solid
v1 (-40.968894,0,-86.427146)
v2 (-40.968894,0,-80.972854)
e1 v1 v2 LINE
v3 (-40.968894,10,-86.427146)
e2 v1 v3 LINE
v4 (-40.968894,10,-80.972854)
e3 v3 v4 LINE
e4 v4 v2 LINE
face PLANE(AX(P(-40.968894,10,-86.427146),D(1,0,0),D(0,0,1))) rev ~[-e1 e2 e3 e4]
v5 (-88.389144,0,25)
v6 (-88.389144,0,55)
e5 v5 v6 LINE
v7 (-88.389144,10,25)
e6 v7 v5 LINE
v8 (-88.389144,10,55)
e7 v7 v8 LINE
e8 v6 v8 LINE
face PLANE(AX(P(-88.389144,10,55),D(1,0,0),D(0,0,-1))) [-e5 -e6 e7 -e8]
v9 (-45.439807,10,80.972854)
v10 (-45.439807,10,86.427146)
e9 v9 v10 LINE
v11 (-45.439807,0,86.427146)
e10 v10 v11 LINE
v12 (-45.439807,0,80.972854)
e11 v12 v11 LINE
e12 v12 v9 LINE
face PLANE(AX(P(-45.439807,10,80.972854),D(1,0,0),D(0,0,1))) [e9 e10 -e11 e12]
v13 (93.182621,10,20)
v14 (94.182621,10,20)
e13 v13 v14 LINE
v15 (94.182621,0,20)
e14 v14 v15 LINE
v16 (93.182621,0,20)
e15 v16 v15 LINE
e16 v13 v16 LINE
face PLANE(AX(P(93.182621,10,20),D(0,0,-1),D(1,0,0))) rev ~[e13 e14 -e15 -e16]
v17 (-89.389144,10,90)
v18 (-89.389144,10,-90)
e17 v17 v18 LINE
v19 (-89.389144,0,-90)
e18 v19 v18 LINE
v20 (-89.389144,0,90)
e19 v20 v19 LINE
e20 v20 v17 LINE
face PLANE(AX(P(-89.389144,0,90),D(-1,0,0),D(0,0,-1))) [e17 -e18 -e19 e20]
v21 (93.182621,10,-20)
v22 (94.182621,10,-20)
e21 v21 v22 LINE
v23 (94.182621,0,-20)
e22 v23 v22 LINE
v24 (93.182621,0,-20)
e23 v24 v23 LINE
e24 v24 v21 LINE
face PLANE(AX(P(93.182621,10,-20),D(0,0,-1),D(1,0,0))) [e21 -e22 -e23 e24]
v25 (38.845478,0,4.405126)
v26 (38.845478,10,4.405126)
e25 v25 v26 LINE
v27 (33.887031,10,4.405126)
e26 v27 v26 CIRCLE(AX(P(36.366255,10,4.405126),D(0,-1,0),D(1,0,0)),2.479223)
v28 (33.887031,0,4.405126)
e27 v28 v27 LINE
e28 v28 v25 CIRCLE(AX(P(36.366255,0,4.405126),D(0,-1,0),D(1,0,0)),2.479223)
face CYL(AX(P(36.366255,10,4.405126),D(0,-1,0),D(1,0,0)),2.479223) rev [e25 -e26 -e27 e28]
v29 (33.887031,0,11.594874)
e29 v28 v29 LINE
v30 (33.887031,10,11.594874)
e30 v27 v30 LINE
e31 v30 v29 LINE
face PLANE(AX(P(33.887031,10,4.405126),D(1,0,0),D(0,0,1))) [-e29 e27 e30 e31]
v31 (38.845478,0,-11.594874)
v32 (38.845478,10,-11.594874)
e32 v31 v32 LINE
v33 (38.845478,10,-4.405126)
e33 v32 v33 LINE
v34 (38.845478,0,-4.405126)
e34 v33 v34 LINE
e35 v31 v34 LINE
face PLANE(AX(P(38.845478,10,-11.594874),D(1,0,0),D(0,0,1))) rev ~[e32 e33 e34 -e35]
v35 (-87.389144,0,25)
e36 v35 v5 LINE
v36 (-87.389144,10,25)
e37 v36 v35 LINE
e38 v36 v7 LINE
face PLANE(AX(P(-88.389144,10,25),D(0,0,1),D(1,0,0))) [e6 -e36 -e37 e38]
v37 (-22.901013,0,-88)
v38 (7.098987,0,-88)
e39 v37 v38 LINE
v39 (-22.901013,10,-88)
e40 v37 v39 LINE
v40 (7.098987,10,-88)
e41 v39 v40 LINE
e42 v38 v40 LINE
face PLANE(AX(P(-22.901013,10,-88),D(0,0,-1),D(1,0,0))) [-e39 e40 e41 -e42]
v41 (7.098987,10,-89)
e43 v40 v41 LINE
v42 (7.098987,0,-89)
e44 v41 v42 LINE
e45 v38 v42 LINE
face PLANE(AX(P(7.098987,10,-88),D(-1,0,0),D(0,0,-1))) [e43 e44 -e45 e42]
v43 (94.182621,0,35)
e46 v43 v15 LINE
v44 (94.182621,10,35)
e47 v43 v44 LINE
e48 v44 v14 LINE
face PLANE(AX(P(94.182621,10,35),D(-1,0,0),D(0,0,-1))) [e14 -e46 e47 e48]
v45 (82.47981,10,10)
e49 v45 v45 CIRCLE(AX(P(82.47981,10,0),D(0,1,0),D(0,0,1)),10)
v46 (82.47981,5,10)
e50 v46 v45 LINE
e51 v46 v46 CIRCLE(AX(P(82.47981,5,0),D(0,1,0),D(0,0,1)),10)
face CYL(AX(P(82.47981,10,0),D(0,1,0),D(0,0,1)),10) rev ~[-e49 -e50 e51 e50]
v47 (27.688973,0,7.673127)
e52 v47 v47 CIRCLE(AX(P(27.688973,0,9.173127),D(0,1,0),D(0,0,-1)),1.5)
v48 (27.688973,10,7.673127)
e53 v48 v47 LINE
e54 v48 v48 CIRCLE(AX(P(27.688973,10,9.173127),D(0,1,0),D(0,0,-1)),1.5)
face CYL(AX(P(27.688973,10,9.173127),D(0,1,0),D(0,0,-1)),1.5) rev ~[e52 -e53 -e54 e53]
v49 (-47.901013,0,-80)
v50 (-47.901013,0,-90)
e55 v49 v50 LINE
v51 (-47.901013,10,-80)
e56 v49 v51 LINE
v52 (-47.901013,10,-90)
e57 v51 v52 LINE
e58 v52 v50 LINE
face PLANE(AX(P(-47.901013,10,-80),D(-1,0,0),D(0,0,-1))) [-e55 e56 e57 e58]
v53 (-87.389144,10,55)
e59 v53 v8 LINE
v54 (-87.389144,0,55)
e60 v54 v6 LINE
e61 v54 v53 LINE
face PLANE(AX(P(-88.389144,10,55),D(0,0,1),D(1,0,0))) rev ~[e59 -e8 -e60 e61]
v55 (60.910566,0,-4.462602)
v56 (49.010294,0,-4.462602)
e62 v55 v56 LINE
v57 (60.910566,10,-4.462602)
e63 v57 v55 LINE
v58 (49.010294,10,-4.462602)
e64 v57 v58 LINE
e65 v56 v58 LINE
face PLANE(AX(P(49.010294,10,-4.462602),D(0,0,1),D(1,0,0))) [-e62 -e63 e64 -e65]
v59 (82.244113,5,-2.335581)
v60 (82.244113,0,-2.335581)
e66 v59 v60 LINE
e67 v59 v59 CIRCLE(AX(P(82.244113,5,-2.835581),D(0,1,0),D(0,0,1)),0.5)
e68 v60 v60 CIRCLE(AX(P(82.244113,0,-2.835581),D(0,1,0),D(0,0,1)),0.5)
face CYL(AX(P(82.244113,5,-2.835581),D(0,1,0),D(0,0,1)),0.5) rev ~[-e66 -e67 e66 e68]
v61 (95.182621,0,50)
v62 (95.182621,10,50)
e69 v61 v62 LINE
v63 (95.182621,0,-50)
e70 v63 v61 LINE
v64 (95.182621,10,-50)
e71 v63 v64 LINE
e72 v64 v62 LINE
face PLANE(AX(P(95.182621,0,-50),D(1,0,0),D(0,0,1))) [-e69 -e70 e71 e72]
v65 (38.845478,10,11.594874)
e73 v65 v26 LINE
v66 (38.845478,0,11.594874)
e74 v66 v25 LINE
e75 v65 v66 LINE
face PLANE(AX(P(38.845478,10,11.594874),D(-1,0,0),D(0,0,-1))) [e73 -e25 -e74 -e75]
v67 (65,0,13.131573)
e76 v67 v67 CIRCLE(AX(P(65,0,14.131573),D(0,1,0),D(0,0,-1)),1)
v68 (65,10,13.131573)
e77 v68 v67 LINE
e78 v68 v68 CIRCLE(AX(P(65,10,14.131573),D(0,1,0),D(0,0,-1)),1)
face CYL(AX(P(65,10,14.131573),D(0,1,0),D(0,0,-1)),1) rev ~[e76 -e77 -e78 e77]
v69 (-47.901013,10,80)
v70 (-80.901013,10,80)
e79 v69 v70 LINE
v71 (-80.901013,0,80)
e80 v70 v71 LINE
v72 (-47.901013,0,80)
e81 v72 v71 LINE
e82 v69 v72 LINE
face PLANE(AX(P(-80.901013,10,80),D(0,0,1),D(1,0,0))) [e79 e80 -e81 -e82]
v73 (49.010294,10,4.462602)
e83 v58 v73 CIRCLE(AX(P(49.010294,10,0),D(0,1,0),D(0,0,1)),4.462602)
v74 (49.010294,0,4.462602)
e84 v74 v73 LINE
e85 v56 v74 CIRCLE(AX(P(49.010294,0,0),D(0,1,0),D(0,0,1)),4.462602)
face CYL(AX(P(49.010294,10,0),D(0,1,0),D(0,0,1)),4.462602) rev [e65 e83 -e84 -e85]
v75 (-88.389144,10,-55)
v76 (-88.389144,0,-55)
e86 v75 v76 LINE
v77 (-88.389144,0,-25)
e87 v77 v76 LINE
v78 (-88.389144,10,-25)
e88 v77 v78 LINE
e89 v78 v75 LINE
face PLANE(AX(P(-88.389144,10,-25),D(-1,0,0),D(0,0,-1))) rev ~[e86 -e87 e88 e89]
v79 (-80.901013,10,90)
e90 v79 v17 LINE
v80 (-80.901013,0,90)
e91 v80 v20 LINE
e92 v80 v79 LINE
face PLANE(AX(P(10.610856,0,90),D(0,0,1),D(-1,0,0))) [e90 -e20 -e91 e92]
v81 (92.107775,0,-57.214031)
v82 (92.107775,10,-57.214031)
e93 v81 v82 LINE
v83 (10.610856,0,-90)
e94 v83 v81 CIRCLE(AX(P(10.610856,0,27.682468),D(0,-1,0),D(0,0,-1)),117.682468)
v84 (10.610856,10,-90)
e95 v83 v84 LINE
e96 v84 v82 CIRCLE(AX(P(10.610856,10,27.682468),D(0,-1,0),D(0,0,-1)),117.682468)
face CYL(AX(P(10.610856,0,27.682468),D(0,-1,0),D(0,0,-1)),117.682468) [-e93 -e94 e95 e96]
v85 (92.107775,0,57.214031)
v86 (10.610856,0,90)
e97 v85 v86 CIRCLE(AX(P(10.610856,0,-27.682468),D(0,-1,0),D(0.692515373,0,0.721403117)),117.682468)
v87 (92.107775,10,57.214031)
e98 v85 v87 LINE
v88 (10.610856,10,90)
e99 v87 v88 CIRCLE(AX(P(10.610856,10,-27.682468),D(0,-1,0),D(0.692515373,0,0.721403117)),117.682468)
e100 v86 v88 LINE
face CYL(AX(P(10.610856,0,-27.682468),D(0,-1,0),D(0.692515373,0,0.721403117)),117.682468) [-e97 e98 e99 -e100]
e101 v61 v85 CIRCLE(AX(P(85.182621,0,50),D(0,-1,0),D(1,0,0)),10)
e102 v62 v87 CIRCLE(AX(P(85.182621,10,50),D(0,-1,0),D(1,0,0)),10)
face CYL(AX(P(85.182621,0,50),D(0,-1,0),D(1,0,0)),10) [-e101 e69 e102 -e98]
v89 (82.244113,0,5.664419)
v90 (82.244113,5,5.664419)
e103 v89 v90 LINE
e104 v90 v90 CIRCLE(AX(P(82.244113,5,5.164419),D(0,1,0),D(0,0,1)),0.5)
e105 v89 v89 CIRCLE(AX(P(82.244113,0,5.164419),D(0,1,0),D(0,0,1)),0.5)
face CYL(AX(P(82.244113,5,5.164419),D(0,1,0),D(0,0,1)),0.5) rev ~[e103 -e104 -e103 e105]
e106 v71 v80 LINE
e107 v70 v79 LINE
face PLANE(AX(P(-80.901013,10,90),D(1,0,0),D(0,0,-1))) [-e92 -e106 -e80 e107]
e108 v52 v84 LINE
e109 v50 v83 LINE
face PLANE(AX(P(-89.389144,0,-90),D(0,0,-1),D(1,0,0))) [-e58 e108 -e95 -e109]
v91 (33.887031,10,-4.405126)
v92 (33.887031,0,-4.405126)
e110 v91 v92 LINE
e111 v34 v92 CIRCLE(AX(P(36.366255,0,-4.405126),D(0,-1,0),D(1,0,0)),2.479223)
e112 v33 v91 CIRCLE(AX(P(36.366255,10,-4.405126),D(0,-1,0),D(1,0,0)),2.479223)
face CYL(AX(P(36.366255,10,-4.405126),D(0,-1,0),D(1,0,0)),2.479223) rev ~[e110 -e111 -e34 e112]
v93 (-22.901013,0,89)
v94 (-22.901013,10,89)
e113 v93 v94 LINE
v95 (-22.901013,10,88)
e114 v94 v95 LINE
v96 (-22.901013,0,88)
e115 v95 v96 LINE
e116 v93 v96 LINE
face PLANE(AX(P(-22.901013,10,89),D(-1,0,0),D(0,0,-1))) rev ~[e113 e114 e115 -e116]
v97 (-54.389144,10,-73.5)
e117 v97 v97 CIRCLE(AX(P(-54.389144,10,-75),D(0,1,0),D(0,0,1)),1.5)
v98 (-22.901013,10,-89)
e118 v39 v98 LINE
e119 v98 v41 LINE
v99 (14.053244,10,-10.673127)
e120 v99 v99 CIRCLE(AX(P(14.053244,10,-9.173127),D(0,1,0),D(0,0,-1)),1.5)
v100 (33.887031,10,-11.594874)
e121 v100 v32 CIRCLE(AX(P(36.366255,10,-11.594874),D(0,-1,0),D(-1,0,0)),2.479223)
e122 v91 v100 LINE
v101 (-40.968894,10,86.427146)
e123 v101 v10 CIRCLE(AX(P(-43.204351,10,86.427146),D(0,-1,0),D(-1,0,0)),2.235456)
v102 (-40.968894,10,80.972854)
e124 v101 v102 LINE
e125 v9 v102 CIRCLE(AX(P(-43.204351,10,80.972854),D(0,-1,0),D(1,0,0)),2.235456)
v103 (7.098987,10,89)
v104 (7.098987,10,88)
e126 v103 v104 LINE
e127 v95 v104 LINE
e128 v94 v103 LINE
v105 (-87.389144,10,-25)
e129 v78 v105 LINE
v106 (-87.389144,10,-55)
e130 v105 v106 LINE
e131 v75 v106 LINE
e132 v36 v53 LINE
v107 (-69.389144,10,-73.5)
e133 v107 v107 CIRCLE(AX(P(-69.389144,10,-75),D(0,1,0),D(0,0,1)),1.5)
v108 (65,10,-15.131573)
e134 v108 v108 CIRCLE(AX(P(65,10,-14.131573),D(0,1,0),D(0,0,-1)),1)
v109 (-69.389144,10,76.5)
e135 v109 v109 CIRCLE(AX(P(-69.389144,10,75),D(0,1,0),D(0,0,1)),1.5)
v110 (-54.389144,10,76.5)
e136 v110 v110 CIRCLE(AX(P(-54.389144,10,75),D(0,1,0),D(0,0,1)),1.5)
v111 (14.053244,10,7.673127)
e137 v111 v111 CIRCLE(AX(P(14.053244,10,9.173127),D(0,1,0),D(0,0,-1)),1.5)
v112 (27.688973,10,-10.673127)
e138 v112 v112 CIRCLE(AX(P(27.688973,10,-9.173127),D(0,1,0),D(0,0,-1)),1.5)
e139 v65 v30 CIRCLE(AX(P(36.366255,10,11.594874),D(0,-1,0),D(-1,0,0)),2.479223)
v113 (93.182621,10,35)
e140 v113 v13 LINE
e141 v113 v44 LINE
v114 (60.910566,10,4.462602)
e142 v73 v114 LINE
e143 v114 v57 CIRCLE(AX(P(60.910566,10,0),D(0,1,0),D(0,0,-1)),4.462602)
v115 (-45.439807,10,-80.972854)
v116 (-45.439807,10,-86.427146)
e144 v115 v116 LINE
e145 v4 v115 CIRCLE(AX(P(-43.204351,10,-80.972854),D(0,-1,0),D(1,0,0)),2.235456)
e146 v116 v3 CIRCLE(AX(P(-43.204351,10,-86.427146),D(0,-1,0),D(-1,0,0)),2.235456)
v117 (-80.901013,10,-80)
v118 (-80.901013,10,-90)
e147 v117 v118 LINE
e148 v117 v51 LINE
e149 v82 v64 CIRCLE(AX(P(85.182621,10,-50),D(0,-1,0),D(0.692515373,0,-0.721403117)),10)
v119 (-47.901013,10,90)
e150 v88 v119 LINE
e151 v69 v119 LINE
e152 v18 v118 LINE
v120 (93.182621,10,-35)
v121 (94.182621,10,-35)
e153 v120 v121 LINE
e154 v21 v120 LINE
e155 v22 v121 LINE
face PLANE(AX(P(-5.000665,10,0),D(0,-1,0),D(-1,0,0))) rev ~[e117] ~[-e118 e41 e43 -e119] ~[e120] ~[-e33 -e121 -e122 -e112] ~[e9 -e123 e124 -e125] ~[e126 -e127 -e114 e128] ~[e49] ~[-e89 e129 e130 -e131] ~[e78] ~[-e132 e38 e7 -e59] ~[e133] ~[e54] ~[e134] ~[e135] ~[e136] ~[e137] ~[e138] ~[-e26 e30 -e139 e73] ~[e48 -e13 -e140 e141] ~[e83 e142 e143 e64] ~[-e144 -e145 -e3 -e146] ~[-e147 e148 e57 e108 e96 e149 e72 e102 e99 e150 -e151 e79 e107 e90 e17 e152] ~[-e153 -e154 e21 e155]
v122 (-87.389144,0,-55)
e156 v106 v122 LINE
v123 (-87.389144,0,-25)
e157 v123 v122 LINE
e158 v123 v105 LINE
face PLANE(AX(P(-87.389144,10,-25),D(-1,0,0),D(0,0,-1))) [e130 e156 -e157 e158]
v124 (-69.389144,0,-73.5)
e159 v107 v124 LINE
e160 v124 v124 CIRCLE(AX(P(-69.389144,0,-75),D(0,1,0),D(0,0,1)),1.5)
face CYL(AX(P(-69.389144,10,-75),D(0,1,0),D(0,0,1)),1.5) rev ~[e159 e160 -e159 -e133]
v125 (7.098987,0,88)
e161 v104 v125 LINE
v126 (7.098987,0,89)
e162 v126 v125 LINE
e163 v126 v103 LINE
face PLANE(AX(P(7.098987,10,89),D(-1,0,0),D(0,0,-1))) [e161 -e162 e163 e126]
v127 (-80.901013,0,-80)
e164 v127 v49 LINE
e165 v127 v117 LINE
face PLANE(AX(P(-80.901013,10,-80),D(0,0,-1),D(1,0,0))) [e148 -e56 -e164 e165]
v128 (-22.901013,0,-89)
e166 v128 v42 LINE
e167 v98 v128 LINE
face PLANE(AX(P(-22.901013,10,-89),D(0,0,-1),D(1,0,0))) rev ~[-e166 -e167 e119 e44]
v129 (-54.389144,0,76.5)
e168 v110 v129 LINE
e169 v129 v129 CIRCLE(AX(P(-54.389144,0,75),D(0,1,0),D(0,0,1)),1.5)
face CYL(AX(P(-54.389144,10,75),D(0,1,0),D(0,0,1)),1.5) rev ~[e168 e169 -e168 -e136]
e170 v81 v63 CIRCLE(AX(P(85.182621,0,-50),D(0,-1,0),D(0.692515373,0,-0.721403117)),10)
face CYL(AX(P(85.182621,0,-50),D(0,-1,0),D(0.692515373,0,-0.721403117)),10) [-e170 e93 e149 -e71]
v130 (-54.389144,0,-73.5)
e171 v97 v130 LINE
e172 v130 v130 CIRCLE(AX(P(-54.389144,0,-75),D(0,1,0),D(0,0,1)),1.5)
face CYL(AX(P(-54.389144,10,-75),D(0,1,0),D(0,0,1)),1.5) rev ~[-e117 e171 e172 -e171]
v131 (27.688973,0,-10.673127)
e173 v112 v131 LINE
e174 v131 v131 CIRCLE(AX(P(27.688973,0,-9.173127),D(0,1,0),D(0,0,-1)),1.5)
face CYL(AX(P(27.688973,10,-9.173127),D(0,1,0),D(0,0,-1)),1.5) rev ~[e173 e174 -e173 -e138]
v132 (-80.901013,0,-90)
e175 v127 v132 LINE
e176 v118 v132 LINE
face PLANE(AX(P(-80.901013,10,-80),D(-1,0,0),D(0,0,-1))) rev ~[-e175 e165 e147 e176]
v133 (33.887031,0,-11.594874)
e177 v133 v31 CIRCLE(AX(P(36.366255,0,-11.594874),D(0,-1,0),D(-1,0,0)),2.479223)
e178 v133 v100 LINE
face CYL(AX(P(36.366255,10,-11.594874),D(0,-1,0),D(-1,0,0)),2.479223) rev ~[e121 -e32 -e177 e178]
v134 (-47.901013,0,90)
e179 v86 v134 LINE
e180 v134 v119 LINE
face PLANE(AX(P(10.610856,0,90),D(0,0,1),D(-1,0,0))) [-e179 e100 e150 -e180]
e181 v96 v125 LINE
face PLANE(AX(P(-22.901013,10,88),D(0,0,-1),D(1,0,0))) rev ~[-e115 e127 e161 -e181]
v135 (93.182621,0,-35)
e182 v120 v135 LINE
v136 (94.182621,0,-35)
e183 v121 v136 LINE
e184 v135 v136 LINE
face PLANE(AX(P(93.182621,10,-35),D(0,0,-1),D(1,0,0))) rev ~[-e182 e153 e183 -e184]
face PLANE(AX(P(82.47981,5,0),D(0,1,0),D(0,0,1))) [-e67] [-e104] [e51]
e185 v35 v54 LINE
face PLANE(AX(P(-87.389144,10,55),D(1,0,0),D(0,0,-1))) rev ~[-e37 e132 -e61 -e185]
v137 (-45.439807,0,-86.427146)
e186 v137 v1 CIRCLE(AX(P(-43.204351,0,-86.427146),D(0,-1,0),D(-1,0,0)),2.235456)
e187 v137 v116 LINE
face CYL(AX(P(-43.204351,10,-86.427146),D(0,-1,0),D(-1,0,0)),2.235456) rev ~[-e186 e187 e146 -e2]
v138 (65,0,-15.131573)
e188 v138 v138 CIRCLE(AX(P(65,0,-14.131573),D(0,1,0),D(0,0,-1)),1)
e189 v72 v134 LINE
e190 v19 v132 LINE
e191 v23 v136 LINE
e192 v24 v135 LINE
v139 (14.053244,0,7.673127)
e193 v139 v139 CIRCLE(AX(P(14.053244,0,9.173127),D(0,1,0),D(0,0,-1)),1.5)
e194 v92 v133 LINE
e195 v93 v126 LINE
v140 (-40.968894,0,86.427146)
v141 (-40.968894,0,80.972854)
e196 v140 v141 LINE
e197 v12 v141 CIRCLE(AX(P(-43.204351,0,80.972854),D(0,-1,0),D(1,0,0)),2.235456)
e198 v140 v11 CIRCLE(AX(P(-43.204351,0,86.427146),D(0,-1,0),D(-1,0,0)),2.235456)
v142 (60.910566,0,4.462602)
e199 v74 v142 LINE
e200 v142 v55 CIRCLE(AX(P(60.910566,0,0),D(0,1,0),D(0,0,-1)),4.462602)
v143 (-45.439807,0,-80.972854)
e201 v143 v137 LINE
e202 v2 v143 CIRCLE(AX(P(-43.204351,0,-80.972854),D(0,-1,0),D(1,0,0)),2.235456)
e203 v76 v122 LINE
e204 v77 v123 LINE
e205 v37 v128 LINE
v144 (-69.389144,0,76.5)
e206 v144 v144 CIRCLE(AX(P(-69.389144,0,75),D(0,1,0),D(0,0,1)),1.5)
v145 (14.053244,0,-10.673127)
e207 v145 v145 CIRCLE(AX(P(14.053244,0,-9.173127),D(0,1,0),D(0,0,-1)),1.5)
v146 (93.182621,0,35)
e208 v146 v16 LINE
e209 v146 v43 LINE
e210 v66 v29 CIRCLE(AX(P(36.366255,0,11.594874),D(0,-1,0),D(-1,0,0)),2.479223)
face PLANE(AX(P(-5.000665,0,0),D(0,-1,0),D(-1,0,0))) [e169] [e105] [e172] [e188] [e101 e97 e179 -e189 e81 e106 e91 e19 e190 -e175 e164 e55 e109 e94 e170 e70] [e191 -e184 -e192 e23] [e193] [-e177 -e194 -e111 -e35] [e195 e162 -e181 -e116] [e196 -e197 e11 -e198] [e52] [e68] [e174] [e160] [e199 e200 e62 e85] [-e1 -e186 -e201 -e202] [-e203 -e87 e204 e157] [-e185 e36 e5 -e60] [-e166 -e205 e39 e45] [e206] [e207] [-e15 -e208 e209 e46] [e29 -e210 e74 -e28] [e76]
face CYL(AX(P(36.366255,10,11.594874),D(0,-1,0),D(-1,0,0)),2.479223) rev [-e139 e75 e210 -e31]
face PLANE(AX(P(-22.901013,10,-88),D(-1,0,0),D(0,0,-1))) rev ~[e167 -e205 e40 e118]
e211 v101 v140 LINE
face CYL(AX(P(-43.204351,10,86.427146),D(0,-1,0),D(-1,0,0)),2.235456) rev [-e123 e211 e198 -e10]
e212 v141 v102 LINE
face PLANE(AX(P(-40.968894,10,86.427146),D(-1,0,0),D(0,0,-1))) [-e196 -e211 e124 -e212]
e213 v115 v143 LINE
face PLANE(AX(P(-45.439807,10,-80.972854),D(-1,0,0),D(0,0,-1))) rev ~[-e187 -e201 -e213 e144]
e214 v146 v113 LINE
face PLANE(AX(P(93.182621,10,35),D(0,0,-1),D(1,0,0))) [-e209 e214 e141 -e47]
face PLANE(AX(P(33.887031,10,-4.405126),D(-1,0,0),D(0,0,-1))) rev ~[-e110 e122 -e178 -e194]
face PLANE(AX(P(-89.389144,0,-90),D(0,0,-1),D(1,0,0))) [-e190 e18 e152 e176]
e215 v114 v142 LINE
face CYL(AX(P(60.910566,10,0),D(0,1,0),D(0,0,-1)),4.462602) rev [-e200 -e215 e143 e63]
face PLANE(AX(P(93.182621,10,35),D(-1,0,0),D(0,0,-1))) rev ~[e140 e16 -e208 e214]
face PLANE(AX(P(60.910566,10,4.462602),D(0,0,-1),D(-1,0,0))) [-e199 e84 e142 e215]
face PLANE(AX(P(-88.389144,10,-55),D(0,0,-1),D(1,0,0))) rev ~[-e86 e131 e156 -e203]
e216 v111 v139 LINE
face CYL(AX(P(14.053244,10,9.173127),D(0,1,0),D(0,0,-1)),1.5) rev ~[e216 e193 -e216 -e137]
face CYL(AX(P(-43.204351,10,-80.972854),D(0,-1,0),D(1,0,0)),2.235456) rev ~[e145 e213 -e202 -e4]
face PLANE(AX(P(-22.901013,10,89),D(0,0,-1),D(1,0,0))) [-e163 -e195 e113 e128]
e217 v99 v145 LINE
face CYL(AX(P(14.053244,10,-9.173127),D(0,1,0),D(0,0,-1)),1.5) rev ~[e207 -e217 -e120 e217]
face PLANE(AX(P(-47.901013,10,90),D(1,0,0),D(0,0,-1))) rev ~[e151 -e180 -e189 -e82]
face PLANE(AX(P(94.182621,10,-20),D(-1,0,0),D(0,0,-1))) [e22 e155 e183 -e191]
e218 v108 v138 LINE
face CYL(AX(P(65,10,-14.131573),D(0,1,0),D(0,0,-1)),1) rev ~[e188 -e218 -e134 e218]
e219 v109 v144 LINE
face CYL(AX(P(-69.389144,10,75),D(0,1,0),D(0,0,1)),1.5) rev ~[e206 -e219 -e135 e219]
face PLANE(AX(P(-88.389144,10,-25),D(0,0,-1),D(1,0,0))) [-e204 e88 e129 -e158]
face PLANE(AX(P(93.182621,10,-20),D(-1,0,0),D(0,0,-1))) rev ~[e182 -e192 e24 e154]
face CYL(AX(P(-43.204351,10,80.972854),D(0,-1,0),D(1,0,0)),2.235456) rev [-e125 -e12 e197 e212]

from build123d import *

# Parameters (mm, degrees)
BOSS_EXTRUDE1_DEPTH = 10
SKETCH2_R           = 1
SKETCH2_R_2         = 1.5
SKETCH2_W           = 33
SKETCH2_H           = 10
CUT_EXTRUDE2_DEPTH  = 15
SKETCH3_R           = 10
CUT_EXTRUDE3_DEPTH  = 5
CUT_EXTRUDE4_DEPTH  = 15
SKETCH5_W           = 30
SKETCH5_H           = 1
SKETCH5_W_2         = 1
SKETCH5_H_2         = 30
SKETCH5_H_3         = 15
CUT_EXTRUDE6_DEPTH  = 15
SKETCH6_R           = 0.5
CUT_EXTRUDE7_DEPTH  = 15
SKETCH7_R           = 1.5
CUT_EXTRUDE8_DEPTH  = 132.376296717


with BuildPart() as part:
    # Sketch1 → Boss-Extrude1 (new body)
    with BuildSketch(Plane(origin=(0, 0, 0), x_dir=(1, 0, 0), z_dir=(0, 1, 0))):
        with BuildLine():
            Line((-89.389143795, -90), (-89.389143795, 90))
            Line((-89.389143795, 90), (10.610856205, 90))
            ThreePointArc((10.610856205, 90), (54.533138364, 81.496268076), (92.107774725, 57.214031174))
            ThreePointArc((92.107774725, 57.214031174), (94.381847518, 53.920998768), (95.182620993, 50))
            Line((95.182620993, 50), (95.182620993, -50))
            ThreePointArc((95.182620993, -50), (94.381847518, -53.920998768), (92.107774725, -57.214031174))
            ThreePointArc((92.107774725, -57.214031174), (54.533138364, -81.496268076), (10.610856205, -90))
            Line((10.610856205, -90), (-89.389143795, -90))
        make_face()
    extrude(amount=BOSS_EXTRUDE1_DEPTH)

    # Sketch2 → Cut-Extrude2 (cut, symmetric)
    with BuildSketch(Plane(origin=(0, 10, 0), x_dir=(1, 0, 0), z_dir=(0, 1, 0))):
        with Locations(Location((65, 14.131573434, 0), (0, 0, 90))):
            Circle(SKETCH2_R)
        with Locations(Location((27.688972694, 9.173126615, 0), (0, 0, 90))):
            Circle(SKETCH2_R_2)
        with Locations(Location((14.053243942, 9.173126615, 0), (0, 0, 90))):
            Circle(SKETCH2_R_2)
        with Locations(Location((14.053243942, -9.173126615, 0), (0, 0, 90))):
            Circle(SKETCH2_R_2)
        with Locations(Location((27.688972694, -9.173126615, 0), (0, 0, 90))):
            Circle(SKETCH2_R_2)
        with Locations(Location((65, -14.131573434, 0), (0, 0, 90))):
            Circle(SKETCH2_R)
        with BuildLine():
            Line((-40.968894473, 86.42714575), (-40.968894473, 80.97285425))
            ThreePointArc((-40.968894473, 80.97285425), (-43.204350858, 78.737397865), (-45.439807243, 80.97285425))
            Line((-45.439807243, 80.97285425), (-45.439807243, 86.42714575))
            ThreePointArc((-45.439807243, 86.42714575), (-43.204350858, 88.662602135), (-40.968894473, 86.42714575))
        make_face()
        with BuildLine():
            Line((38.845478036, 11.594873944), (38.845478036, 4.405126056))
            ThreePointArc((38.845478036, 4.405126056), (36.366254627, 1.925902647), (33.887031217, 4.405126056))
            Line((33.887031217, 4.405126056), (33.887031217, 11.594873944))
            ThreePointArc((33.887031217, 11.594873944), (36.366254627, 14.074097353), (38.845478036, 11.594873944))
        make_face()
        with Locations((-64.401012641, 85)):
            Rectangle(SKETCH2_W, SKETCH2_H)
        with BuildLine():
            Line((38.845478036, -11.594873944), (38.845478036, -4.405126056))
            ThreePointArc((38.845478036, -4.405126056), (36.366254627, -1.925902647), (33.887031217, -4.405126056))
            Line((33.887031217, -4.405126056), (33.887031217, -11.594873944))
            ThreePointArc((33.887031217, -11.594873944), (36.366254627, -14.074097353), (38.845478036, -11.594873944))
        make_face()
        with BuildLine():
            Line((-40.968894473, -86.42714575), (-40.968894473, -80.97285425))
            ThreePointArc((-40.968894473, -80.97285425), (-43.204350858, -78.737397865), (-45.439807243, -80.97285425))
            Line((-45.439807243, -80.97285425), (-45.439807243, -86.42714575))
            ThreePointArc((-45.439807243, -86.42714575), (-43.204350858, -88.662602135), (-40.968894473, -86.42714575))
        make_face()
        with Locations((-64.401012641, -85)):
            Rectangle(SKETCH2_W, SKETCH2_H)
    extrude(amount=CUT_EXTRUDE2_DEPTH, both=True, mode=Mode.SUBTRACT)

    # Sketch3 → Cut-Extrude3 (cut, symmetric)
    with BuildSketch(Plane(origin=(0, 10, 0), x_dir=(1, 0, 0), z_dir=(0, 1, 0))):
        with Locations(Location((82.479810043, 0, 0), (0, 0, 270))):
            Circle(SKETCH3_R)
    extrude(amount=CUT_EXTRUDE3_DEPTH, both=True, mode=Mode.SUBTRACT)

    # Sketch4 → Cut-Extrude4 (cut, symmetric)
    with BuildSketch(Plane(origin=(0, 10, 0), x_dir=(1, 0, 0), z_dir=(0, 1, 0))):
        with BuildLine():
            Line((49.010294015, 4.462602137), (60.91056638, 4.462602137))
            ThreePointArc((60.91056638, 4.462602137), (65.373168517, 0), (60.91056638, -4.462602137))
            Line((60.91056638, -4.462602137), (49.010294015, -4.462602137))
            ThreePointArc((49.010294015, -4.462602137), (44.547691878, 0), (49.010294015, 4.462602137))
        make_face()
    extrude(amount=CUT_EXTRUDE4_DEPTH, both=True, mode=Mode.SUBTRACT)

    # Sketch5 → Cut-Extrude6 (cut, symmetric)
    with BuildSketch(Plane(origin=(0, 10, 0), x_dir=(1, 0, 0), z_dir=(0, 1, 0))):
        with Locations((-7.901012641, 88.5)):
            Rectangle(SKETCH5_W, SKETCH5_H)
        with Locations((-87.889143795, 40)):
            Rectangle(SKETCH5_W_2, SKETCH5_H_2)
        with Locations((93.682620993, 27.5)):
            Rectangle(SKETCH5_W_2, SKETCH5_H_3)
        with Locations((93.682620993, -27.5)):
            Rectangle(SKETCH5_W_2, SKETCH5_H_3)
        with Locations((-7.901012641, -88.5)):
            Rectangle(SKETCH5_W, SKETCH5_H)
        with Locations((-87.889143795, -40)):
            Rectangle(SKETCH5_W_2, SKETCH5_H_2)
    extrude(amount=CUT_EXTRUDE6_DEPTH, both=True, mode=Mode.SUBTRACT)

    # Sketch6 → Cut-Extrude7 (cut, symmetric)
    with BuildSketch(Plane(origin=(0, 5, 0), x_dir=(1, 0, 0), z_dir=(0, 1, 0))):
        with Locations(Location((82.244112685, 2.835581496, 0), (0, 0, 270))):
            Circle(SKETCH6_R)
        with Locations(Location((82.244112685, -5.164418504, 0), (0, 0, 270))):
            Circle(SKETCH6_R)
    extrude(amount=CUT_EXTRUDE7_DEPTH, both=True, mode=Mode.SUBTRACT)

    # Sketch7 → Cut-Extrude8 (cut, through all)
    with BuildSketch(Plane(origin=(0, 10, 0), x_dir=(1, 0, 0), z_dir=(0, 1, 0))):
        with Locations(Location((-69.389143795, 75, 0), (0, 0, 270))):
            Circle(SKETCH7_R)
        with Locations(Location((-54.389143795, 75, 0), (0, 0, 270))):
            Circle(SKETCH7_R)
        with Locations(Location((-69.389143795, -75, 0), (0, 0, 270))):
            Circle(SKETCH7_R)
        with Locations(Location((-54.389143795, -75, 0), (0, 0, 270))):
            Circle(SKETCH7_R)
    extrude(amount=-CUT_EXTRUDE8_DEPTH, mode=Mode.SUBTRACT)


solid = part.part
